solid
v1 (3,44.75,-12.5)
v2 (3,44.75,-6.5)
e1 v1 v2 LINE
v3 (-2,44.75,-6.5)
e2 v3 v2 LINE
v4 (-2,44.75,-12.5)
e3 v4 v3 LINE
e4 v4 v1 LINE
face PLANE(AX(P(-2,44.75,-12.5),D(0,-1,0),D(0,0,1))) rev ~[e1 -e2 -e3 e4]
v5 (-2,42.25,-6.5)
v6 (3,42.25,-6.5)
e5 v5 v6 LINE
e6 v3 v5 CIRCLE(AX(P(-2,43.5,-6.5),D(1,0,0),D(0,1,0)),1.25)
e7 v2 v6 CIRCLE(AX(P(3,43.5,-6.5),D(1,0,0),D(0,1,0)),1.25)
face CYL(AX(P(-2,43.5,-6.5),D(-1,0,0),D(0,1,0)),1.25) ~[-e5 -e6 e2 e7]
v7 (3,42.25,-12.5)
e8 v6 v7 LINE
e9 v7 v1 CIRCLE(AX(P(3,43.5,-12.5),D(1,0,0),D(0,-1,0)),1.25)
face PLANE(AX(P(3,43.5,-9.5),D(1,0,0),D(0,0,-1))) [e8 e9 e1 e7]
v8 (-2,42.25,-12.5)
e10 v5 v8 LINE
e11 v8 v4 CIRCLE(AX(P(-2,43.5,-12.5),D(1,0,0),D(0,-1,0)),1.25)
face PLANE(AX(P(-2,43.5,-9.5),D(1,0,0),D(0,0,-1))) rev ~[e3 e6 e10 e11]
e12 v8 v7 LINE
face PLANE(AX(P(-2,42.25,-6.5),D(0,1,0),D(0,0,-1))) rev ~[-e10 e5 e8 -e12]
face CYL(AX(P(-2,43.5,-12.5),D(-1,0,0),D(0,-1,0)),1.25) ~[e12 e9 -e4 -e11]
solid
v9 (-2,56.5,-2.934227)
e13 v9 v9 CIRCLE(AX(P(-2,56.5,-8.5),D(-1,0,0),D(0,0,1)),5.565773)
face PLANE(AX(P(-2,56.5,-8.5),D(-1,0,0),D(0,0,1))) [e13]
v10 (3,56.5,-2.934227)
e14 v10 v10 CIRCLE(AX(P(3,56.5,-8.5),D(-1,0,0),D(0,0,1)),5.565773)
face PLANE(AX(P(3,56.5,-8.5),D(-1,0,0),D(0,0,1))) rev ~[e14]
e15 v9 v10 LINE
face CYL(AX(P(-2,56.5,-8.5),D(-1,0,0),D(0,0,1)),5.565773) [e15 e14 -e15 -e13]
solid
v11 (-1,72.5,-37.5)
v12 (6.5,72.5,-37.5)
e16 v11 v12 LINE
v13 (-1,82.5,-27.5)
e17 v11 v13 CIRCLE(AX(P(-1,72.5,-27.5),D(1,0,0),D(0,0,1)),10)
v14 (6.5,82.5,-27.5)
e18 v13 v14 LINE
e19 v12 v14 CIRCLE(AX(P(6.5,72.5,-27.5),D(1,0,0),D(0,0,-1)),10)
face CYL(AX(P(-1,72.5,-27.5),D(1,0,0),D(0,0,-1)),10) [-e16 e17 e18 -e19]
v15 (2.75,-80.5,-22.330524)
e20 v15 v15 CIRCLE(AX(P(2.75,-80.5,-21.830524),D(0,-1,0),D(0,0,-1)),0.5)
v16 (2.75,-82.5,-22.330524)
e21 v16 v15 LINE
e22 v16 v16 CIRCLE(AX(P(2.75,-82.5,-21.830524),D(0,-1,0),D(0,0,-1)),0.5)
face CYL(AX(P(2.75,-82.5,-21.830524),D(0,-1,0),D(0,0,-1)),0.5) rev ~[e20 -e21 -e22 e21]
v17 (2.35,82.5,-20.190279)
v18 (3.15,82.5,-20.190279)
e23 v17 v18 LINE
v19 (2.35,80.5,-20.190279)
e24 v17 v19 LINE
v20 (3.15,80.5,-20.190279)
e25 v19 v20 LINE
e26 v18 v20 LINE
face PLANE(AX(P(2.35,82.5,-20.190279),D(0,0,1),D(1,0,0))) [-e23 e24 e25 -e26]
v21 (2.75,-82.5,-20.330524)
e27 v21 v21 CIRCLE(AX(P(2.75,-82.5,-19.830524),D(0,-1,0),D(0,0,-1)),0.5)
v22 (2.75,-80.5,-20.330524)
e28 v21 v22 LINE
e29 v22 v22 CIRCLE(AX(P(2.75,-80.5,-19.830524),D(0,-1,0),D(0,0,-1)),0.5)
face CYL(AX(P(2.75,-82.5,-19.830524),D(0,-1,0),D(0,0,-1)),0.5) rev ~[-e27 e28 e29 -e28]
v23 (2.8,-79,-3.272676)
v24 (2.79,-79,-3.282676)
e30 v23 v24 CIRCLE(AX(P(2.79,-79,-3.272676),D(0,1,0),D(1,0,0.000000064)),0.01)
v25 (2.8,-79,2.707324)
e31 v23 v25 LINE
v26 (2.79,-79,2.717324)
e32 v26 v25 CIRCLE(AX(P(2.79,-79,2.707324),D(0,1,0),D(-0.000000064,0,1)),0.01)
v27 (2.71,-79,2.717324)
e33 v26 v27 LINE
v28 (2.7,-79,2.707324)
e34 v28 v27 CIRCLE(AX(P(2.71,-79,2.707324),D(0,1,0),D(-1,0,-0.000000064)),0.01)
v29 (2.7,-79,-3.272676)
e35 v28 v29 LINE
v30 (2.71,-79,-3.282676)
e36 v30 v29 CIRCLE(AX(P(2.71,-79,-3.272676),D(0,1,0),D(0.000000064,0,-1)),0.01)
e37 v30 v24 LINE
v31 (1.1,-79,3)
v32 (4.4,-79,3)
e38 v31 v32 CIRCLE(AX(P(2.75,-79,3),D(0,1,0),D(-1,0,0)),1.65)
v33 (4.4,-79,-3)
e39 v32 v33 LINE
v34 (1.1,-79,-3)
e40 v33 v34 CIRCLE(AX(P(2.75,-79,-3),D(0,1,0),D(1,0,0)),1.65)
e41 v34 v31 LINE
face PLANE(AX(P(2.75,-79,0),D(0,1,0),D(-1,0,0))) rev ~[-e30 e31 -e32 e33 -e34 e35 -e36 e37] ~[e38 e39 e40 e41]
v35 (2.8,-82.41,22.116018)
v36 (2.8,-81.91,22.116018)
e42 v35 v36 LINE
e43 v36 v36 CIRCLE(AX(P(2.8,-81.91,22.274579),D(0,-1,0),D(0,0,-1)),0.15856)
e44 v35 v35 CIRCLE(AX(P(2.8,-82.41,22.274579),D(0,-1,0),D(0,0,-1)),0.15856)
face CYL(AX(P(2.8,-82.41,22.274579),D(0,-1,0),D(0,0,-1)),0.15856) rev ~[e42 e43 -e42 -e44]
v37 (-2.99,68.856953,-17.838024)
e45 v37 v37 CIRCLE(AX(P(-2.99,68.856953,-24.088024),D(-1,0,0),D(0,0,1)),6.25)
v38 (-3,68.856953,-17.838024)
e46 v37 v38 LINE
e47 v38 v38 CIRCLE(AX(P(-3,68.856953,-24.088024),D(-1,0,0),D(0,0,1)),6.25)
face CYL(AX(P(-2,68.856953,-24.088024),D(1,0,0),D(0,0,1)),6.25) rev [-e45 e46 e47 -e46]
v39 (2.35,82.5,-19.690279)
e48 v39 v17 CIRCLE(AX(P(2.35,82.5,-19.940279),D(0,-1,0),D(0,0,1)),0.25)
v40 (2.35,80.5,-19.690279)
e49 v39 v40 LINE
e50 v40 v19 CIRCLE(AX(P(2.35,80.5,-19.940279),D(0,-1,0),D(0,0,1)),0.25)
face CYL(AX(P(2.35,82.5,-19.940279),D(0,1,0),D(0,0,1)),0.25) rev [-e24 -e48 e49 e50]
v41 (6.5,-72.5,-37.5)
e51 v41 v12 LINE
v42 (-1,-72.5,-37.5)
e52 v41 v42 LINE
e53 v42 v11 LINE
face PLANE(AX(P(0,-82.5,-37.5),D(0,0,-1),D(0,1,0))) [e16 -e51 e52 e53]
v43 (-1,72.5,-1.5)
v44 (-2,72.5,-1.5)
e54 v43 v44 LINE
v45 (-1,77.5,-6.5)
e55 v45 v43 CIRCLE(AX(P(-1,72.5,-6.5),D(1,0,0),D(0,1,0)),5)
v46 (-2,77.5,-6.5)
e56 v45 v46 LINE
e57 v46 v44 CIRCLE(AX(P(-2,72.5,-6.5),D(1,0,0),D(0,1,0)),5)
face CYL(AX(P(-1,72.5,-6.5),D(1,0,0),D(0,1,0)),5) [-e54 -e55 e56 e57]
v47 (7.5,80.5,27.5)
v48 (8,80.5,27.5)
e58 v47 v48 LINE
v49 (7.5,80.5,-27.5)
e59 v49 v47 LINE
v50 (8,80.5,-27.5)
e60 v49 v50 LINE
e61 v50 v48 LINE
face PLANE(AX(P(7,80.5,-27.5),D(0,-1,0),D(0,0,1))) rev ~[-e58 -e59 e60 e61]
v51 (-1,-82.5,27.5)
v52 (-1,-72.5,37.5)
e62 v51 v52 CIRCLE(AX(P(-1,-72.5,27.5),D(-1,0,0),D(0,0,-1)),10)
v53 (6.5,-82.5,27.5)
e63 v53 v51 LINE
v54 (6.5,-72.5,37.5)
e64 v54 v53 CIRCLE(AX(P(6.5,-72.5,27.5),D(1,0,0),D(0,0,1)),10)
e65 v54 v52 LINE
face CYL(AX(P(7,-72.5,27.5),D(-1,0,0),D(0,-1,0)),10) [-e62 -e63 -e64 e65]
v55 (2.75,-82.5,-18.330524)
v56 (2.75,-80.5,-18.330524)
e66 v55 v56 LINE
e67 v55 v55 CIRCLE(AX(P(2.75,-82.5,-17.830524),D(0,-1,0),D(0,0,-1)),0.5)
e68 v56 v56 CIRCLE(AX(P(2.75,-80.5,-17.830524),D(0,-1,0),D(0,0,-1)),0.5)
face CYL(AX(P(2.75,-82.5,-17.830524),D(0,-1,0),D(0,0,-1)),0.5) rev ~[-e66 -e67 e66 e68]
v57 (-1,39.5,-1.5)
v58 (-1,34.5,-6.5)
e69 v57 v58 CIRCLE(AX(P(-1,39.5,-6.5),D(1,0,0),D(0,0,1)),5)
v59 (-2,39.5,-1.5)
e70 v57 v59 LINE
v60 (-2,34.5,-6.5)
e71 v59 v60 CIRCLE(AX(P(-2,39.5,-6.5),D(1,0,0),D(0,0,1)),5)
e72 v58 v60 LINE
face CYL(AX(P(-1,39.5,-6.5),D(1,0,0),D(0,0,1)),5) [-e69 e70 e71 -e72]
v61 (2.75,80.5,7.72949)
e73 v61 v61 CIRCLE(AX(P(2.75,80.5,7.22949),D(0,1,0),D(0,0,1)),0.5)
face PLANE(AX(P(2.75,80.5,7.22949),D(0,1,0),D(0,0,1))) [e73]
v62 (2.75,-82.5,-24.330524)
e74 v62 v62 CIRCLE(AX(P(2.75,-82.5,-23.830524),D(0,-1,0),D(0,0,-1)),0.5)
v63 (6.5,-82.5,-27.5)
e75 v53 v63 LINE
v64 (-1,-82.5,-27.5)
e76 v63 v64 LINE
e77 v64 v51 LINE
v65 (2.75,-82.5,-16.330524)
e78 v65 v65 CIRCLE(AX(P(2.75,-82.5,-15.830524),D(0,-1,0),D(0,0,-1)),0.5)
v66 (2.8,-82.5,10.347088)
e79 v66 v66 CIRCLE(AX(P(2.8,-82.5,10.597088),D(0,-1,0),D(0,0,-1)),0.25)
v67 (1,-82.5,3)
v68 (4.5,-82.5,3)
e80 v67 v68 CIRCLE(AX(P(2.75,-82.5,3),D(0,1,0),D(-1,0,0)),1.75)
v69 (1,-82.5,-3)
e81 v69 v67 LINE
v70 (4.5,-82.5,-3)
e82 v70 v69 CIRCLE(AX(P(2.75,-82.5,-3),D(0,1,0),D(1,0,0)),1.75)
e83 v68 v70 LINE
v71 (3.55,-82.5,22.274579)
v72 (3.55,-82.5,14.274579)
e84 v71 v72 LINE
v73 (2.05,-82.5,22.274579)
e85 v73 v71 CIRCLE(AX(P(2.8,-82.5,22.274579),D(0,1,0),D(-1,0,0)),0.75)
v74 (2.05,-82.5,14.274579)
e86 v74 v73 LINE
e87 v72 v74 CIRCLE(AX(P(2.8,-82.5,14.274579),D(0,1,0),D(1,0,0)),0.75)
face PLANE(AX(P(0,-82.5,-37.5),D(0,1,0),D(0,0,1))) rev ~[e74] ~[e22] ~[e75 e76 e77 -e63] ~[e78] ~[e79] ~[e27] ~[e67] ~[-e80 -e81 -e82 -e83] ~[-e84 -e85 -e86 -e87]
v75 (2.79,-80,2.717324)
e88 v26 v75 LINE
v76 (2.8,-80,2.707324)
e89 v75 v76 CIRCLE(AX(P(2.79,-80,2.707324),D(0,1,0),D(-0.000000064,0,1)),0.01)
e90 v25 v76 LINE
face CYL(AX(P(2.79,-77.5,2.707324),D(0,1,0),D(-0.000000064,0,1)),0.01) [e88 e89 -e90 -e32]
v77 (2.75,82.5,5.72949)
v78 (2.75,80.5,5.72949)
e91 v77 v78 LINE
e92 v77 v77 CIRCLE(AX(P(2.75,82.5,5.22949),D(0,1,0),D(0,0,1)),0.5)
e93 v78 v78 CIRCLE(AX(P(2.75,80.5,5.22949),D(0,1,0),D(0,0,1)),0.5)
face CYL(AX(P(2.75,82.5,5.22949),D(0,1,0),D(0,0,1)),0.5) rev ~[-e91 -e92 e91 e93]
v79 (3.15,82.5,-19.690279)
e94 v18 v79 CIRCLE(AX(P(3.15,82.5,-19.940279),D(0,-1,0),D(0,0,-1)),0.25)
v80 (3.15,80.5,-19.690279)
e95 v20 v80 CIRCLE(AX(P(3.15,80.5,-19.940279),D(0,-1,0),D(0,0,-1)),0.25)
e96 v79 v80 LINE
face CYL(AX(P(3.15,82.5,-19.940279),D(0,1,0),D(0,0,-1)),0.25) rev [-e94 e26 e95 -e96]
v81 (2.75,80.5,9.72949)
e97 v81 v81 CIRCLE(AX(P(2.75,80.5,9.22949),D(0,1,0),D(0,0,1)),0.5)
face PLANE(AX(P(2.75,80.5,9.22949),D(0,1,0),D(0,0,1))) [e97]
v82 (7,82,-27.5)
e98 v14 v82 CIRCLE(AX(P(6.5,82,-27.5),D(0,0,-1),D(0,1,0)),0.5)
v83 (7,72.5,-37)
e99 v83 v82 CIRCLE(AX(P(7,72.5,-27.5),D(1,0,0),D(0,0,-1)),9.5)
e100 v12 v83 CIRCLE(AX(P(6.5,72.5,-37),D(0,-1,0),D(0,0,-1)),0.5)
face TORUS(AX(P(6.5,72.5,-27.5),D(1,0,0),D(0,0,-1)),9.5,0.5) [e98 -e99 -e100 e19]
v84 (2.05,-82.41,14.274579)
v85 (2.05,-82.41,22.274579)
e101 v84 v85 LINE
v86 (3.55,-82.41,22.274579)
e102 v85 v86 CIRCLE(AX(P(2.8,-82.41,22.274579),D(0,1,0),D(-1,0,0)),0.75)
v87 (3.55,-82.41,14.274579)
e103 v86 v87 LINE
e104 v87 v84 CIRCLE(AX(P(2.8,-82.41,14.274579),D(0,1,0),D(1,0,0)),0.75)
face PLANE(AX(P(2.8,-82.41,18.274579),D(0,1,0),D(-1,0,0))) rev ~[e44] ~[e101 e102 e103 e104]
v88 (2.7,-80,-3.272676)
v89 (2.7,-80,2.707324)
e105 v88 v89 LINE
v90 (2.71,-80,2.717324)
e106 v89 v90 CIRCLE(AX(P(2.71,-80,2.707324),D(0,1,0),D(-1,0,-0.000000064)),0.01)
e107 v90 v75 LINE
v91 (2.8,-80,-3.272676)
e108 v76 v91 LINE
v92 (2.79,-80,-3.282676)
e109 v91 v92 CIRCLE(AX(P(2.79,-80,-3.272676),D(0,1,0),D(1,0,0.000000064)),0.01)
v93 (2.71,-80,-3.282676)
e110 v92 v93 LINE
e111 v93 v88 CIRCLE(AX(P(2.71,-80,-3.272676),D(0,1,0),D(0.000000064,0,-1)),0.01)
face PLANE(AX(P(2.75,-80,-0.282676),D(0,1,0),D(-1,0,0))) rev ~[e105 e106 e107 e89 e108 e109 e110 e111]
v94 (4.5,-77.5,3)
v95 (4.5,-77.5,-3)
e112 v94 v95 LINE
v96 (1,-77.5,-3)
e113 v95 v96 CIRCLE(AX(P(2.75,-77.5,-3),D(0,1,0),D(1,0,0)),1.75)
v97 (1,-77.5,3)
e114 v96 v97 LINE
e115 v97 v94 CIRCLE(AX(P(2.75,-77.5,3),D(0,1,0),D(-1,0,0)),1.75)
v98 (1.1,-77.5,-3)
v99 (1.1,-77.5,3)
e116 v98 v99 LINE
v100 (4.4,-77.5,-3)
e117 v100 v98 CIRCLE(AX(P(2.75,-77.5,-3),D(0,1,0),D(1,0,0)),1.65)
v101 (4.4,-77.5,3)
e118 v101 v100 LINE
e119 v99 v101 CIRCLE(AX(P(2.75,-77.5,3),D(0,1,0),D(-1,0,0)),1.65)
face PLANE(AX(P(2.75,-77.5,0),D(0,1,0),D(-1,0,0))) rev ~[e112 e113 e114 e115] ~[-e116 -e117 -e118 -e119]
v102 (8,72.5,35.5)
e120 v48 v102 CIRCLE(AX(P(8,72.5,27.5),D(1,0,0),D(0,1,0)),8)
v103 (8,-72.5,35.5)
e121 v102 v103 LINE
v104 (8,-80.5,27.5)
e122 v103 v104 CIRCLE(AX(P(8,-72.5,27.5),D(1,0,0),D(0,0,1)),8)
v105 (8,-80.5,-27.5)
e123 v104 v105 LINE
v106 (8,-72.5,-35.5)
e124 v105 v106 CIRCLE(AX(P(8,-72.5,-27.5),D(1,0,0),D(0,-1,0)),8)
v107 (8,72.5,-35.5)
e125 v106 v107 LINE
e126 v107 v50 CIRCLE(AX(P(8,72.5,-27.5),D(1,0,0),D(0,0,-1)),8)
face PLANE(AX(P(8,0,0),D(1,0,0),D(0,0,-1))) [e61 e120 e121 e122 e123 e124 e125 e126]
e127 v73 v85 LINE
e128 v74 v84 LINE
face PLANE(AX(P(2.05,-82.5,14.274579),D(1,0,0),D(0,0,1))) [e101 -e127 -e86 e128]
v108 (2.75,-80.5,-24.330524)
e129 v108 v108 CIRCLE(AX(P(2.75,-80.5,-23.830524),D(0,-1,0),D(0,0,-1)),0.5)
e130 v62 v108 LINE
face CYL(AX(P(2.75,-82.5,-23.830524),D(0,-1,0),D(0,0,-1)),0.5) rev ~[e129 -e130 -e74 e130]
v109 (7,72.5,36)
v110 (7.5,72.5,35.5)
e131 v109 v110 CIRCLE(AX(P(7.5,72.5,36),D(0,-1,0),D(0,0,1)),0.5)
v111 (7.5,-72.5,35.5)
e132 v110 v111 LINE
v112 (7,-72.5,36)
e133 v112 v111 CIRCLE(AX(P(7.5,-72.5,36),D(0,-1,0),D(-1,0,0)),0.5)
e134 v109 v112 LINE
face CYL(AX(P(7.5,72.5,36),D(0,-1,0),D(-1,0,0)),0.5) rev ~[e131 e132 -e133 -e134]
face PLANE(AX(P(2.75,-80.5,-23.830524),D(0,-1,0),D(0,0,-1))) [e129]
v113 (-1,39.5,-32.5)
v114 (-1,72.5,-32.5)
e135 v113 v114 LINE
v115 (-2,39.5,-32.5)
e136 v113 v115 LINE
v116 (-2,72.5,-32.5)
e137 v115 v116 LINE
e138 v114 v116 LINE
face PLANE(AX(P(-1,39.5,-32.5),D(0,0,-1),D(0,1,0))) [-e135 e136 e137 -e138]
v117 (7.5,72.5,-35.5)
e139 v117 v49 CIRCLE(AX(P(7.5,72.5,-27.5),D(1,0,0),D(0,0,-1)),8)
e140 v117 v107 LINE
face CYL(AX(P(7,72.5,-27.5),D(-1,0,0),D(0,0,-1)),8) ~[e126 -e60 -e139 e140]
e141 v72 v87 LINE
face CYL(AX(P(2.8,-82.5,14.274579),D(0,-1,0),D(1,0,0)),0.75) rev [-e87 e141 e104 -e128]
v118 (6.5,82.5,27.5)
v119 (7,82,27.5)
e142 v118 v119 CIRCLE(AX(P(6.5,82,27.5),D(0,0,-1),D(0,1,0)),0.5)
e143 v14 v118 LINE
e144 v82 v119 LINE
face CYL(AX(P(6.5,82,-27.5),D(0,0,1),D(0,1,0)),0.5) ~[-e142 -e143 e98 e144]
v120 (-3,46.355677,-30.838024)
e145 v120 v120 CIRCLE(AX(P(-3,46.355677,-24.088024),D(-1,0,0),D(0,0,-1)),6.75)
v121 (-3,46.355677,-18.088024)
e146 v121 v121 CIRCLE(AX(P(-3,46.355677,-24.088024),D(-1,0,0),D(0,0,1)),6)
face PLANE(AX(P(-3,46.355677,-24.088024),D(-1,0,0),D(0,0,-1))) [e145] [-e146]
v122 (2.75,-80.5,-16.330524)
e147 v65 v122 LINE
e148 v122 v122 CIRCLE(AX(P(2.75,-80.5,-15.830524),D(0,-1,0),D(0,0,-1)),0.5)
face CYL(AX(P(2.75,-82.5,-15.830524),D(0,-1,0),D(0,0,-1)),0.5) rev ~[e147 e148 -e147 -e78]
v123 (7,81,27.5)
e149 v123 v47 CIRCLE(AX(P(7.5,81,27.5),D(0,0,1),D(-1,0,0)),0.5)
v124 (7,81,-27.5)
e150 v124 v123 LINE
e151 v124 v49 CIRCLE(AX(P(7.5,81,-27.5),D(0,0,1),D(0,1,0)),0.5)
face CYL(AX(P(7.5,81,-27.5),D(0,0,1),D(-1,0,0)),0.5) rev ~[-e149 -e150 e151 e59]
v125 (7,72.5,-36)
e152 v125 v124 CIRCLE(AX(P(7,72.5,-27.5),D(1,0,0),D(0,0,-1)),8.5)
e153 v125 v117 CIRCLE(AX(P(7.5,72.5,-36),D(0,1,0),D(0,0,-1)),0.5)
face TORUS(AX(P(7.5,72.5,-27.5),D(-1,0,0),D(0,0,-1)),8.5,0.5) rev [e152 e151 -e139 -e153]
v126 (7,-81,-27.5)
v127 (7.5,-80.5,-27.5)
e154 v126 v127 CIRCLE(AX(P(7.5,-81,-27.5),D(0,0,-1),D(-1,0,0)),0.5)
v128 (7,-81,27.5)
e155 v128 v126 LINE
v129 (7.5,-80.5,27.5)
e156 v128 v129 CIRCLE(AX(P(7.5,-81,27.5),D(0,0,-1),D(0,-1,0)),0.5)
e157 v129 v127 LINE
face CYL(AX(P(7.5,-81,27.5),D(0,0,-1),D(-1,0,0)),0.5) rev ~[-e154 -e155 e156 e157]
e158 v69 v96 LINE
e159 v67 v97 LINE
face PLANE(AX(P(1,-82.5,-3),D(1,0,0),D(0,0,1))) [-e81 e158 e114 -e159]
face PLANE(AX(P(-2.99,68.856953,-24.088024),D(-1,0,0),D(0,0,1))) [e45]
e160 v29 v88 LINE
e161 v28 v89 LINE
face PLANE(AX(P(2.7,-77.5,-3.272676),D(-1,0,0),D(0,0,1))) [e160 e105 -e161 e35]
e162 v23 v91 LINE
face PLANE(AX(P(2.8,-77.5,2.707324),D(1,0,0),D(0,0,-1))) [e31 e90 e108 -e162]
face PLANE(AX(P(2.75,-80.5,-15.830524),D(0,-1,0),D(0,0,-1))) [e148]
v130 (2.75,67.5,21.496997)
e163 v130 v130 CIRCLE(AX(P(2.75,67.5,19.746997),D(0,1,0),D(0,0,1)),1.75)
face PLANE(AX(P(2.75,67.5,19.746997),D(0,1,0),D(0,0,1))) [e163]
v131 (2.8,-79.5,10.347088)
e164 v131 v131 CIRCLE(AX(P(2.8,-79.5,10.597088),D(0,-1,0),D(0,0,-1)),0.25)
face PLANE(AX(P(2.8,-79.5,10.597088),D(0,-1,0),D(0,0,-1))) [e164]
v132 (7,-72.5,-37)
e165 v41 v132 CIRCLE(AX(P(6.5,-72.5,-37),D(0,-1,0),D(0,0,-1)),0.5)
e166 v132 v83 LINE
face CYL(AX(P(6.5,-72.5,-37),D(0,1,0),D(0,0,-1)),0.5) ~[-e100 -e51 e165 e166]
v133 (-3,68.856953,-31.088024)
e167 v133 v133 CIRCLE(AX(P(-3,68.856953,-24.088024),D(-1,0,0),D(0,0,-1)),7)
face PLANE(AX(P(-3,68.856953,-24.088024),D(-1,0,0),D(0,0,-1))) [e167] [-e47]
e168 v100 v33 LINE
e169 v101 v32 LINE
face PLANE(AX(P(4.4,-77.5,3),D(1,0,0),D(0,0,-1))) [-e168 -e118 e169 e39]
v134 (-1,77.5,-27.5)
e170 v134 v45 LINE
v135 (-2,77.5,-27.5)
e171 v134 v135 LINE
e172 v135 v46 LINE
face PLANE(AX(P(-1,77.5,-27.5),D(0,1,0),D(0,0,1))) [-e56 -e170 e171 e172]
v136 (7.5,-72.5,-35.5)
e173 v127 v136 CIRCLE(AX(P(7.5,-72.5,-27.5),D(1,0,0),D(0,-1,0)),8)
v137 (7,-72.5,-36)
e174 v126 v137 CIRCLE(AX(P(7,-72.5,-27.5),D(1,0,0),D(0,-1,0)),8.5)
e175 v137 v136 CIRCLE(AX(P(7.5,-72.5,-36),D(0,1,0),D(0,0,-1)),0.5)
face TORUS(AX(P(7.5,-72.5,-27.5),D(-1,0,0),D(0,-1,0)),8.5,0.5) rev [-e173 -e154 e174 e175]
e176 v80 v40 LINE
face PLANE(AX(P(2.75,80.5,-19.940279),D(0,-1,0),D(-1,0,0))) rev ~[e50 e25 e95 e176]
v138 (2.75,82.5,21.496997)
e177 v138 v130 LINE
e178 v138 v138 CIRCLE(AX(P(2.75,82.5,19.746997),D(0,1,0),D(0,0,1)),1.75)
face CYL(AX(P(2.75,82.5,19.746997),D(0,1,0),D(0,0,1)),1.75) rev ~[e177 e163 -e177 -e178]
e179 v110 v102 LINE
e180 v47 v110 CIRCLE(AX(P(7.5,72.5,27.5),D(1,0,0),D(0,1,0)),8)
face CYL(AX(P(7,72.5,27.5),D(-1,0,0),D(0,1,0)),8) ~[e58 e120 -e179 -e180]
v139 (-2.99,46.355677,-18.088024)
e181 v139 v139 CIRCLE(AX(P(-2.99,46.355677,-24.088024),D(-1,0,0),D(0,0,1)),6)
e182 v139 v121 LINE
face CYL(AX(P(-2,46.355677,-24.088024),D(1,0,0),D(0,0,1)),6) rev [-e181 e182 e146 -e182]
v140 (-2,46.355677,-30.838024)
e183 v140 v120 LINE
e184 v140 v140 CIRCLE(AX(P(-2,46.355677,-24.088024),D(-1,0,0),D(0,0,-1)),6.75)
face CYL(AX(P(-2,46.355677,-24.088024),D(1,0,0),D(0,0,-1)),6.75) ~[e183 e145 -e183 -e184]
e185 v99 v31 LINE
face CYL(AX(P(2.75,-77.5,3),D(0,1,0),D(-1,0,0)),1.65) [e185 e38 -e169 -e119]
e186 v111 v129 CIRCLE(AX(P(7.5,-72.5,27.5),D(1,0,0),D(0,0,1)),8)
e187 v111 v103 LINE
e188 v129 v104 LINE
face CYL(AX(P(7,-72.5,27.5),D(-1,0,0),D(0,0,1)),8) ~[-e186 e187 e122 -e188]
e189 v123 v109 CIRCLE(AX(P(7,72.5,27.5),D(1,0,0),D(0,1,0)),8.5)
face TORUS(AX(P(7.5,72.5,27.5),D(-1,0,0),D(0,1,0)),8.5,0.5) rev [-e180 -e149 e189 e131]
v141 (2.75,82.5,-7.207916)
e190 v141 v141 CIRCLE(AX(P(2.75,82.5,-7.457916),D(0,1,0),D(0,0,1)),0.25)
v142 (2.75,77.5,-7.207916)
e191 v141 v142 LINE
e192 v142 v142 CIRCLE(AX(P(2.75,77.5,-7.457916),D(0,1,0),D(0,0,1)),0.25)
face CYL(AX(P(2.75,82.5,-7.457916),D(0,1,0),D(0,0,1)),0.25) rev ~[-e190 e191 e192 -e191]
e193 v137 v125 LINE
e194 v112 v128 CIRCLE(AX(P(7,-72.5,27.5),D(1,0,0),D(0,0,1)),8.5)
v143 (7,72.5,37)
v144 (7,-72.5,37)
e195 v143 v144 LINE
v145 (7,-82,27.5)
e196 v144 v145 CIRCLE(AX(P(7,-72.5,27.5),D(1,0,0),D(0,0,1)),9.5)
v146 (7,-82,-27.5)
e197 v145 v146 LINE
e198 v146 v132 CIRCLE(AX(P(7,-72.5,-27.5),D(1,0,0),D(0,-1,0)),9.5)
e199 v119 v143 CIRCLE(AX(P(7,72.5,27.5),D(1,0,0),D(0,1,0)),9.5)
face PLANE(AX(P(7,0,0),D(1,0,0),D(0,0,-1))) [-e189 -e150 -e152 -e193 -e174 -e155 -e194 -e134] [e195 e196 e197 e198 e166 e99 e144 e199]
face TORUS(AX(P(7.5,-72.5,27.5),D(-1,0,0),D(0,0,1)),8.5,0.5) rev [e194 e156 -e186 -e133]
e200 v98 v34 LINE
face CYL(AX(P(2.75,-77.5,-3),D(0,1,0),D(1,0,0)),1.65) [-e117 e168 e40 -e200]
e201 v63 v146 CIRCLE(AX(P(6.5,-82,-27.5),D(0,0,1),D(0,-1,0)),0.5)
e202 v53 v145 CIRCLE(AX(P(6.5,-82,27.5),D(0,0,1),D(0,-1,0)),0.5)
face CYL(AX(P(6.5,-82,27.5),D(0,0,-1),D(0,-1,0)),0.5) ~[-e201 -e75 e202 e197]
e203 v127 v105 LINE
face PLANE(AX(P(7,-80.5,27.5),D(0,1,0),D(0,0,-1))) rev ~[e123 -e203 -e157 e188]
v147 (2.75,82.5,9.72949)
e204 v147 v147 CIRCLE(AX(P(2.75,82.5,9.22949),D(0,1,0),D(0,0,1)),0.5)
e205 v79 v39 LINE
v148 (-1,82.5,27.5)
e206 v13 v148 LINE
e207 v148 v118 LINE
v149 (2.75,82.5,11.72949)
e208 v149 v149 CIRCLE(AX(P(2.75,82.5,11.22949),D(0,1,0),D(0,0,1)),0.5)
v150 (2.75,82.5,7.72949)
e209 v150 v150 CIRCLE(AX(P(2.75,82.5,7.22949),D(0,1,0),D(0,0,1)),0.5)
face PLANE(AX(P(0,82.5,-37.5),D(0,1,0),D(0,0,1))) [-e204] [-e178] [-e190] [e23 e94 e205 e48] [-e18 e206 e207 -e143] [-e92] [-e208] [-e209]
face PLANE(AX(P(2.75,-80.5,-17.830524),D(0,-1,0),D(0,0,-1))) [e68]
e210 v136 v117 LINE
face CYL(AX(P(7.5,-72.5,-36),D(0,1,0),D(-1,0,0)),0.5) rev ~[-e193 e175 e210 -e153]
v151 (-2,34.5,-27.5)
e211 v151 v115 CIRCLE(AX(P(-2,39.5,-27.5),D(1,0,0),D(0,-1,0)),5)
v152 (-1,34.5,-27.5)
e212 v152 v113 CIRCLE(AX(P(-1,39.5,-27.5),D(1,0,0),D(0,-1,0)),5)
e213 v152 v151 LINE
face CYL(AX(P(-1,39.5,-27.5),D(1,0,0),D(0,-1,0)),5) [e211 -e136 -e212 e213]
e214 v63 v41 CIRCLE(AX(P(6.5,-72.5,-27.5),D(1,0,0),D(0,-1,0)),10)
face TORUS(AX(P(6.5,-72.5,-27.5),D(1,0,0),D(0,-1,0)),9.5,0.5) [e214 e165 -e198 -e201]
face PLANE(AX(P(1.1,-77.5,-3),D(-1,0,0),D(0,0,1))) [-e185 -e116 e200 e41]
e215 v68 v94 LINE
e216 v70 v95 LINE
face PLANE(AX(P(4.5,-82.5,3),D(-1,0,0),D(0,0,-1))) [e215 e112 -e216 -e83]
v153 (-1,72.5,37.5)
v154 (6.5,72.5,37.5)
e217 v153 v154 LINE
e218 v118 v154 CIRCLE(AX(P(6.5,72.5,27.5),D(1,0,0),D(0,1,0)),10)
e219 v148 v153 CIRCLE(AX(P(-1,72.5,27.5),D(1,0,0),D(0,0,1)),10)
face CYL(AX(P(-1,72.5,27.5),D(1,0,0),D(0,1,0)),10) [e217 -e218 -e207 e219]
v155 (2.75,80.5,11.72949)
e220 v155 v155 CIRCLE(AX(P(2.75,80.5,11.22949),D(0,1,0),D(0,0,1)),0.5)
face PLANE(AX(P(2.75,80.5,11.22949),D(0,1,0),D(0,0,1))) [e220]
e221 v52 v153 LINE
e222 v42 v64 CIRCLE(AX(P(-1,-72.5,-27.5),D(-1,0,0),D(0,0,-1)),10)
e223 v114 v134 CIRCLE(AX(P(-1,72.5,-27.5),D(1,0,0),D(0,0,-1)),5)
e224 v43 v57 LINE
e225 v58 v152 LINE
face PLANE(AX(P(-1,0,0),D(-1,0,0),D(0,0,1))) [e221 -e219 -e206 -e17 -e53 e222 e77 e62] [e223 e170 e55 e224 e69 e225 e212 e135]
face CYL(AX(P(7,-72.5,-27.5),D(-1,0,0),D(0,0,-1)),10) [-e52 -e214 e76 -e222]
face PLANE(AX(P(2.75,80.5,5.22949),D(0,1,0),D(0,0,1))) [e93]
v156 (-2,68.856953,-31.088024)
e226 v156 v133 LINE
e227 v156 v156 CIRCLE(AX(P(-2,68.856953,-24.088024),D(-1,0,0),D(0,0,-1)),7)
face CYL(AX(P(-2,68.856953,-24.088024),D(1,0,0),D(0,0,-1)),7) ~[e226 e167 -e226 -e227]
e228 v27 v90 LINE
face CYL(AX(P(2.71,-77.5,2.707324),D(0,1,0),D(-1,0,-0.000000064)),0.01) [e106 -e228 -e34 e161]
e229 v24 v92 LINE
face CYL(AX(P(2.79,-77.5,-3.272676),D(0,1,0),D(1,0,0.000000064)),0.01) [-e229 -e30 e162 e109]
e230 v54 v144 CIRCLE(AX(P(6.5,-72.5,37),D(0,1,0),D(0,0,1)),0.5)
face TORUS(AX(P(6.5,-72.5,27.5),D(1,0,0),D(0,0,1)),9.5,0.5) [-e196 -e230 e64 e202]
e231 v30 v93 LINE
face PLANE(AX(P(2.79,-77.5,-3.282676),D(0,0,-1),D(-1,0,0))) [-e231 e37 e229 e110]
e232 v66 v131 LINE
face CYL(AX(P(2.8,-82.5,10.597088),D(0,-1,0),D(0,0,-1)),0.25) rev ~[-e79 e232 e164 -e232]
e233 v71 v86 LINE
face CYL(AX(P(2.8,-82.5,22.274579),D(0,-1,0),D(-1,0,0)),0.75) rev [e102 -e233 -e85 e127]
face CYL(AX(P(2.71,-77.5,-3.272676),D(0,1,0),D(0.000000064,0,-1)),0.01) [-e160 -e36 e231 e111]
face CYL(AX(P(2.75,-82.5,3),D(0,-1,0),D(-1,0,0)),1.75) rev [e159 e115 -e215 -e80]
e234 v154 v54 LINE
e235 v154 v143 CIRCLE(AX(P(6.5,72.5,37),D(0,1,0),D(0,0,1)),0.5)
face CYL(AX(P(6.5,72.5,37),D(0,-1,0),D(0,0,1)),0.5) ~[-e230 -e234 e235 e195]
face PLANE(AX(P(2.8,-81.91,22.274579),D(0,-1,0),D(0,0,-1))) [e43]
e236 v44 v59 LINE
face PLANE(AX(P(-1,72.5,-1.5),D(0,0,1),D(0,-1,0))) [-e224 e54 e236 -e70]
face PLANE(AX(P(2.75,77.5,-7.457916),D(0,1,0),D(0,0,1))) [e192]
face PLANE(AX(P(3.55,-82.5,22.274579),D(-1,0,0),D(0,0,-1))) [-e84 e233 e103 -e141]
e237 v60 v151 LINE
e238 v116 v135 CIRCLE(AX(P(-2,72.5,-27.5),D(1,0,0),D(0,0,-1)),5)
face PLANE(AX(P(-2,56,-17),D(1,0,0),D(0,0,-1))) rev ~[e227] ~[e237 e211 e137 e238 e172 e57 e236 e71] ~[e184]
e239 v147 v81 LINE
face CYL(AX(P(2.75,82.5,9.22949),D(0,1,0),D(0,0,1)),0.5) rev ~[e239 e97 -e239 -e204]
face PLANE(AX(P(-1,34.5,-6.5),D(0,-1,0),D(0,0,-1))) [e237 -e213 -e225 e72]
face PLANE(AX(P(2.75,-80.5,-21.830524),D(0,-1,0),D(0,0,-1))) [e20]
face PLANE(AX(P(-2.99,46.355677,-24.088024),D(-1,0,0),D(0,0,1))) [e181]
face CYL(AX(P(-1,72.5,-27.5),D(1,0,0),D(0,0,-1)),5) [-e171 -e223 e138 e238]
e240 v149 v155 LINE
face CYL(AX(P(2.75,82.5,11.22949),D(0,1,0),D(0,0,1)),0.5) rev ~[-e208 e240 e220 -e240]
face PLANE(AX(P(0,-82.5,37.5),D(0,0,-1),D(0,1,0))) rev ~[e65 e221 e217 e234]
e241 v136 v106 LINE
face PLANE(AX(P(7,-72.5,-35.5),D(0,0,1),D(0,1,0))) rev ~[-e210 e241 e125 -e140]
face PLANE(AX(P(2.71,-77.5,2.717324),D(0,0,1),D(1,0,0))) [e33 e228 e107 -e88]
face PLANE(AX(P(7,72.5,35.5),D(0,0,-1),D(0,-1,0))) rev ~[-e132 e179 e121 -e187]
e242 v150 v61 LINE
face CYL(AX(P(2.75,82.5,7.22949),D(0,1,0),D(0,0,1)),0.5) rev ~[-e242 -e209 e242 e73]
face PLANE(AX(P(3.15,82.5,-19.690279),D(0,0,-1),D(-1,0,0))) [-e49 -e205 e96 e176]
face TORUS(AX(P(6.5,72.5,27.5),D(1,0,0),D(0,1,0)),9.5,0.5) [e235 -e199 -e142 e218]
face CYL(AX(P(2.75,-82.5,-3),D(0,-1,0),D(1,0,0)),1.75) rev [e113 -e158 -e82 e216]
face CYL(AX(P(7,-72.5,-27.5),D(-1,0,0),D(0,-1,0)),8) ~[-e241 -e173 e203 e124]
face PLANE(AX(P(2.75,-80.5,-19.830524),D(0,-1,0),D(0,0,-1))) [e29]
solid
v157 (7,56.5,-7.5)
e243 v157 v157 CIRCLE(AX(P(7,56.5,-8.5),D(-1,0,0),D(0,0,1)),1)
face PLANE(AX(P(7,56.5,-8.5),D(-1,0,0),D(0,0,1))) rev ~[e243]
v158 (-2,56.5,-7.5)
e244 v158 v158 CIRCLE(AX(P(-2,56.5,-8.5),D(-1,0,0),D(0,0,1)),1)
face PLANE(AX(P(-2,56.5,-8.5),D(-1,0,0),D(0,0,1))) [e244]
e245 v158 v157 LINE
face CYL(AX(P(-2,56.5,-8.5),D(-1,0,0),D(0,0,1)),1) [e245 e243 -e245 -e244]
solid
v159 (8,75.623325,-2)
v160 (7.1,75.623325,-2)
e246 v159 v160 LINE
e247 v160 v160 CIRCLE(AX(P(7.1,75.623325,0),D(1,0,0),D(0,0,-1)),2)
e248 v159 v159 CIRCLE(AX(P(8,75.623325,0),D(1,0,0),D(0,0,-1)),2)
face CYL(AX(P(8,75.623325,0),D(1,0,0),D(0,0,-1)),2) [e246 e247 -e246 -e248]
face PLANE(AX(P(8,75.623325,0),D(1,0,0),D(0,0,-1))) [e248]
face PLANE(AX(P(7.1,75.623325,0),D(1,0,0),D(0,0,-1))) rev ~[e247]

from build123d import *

# Parameters (mm, degrees)
SKETCH1_W            = 75
SKETCH1_H            = 165
BOSS_EXTRUDE1_DEPTH  = 7
SKETCH2_W            = 75
SKETCH2_H            = 165
BOSS_EXTRUDE2_DEPTH  = 1
BOSS_EXTRUDE3_DEPTH  = 1
SKETCH4_R            = 7
SKETCH4_R_2          = 6.25
BOSS_EXTRUDE4_DEPTH  = 1
SKETCH5_R            = 6.25
BOSS_EXTRUDE5_DEPTH  = 0.99
SKETCH6_R            = 6.75
SKETCH6_R_2          = 6
BOSS_EXTRUDE6_DEPTH  = 1
SKETCH7_R            = 6
BOSS_EXTRUDE7_DEPTH  = 0.99
SKETCH8_R            = 5.565772518
BOSS_EXTRUDE8_DEPTH  = 5
BOSS_EXTRUDE9_DEPTH  = 5
FILLET1_R            = 10
BOSS_EXTRUDE10_DEPTH = 1
FILLET2_R            = 0.5
SKETCH11_R           = 2
BOSS_EXTRUDE11_DEPTH = 0.9
SKETCH13_R           = 1
BOSS_EXTRUDE12_DEPTH = 9
SKETCH14_R           = 1.75
CUT_EXTRUDE2_DEPTH   = 15
SKETCH17_R           = 0.5
CUT_EXTRUDE3_DEPTH   = 2
LPATTERN1_COUNT      = 4
LPATTERN1_PITCH      = 2
SKETCH18_R           = 0.25
CUT_EXTRUDE4_DEPTH   = 5
CUT_EXTRUDE5_DEPTH   = 2
SKETCH20_R           = 0.5
CUT_EXTRUDE6_DEPTH   = 2
LPATTERN2_COUNT      = 5
LPATTERN2_PITCH      = 2
CUT_EXTRUDE7_DEPTH   = 5
BOSS_EXTRUDE13_DEPTH = 2.5
BOSS_EXTRUDE14_DEPTH = 1.5
SKETCH24_R           = 0.25
CUT_EXTRUDE8_DEPTH   = 3
CUT_EXTRUDE9_DEPTH   = 0.09
SKETCH26_R           = 0.158560283
CUT_EXTRUDE10_DEPTH  = 0.5


with BuildPart() as part:
    # Sketch1 → Boss-Extrude1 (new body)
    with BuildSketch(Plane(origin=(0, 0, 0), x_dir=(0, 0, -1), z_dir=(1, 0, 0))):
        Rectangle(SKETCH1_W, SKETCH1_H)
    extrude(amount=BOSS_EXTRUDE1_DEPTH)

    # Sketch2 → Boss-Extrude2 (add)
    with BuildSketch(Plane.ZY):
        Rectangle(SKETCH2_W, SKETCH2_H)
    extrude(amount=BOSS_EXTRUDE2_DEPTH)

    # Sketch3 → Boss-Extrude3 (add)
    with BuildSketch(Plane.ZY.offset(1)):
        with BuildLine():
            Line((-27.5, 77.5), (-6.5, 77.5))
            ThreePointArc((-6.5, 77.5), (-2.964466094, 76.035533906), (-1.5, 72.5))
            Line((-1.5, 72.5), (-1.5, 39.5))
            ThreePointArc((-1.5, 39.5), (-2.964466094, 35.964466094), (-6.5, 34.5))
            Line((-6.5, 34.5), (-27.5, 34.5))
            ThreePointArc((-27.5, 34.5), (-31.035533906, 35.964466094), (-32.5, 39.5))
            Line((-32.5, 39.5), (-32.5, 72.5))
            ThreePointArc((-32.5, 72.5), (-31.035533906, 76.035533906), (-27.5, 77.5))
        make_face()
    extrude(amount=BOSS_EXTRUDE3_DEPTH)

    # Sketch4 → Boss-Extrude4 (add)
    with BuildSketch(Plane.ZY.offset(2)):
        with Locations(Location((-24.088024025, 68.85695255, 0), (0, 0, 180))):
            Circle(SKETCH4_R)
        with Locations((-24.088024025, 68.85695255)):
            Circle(SKETCH4_R_2, mode=Mode.SUBTRACT)
    extrude(amount=BOSS_EXTRUDE4_DEPTH)

    # Sketch5 → Boss-Extrude5 (add)
    with BuildSketch(Plane.ZY.offset(2)):
        with Locations((-24.088024025, 68.85695255)):
            Circle(SKETCH5_R)
    extrude(amount=BOSS_EXTRUDE5_DEPTH)

    # Sketch6 → Boss-Extrude6 (add)
    with BuildSketch(Plane.ZY.offset(2)):
        with Locations(Location((-24.088024025, 46.355676756, 0), (0, 0, 180))):
            Circle(SKETCH6_R)
        with Locations((-24.088024025, 46.355676756)):
            Circle(SKETCH6_R_2, mode=Mode.SUBTRACT)
    extrude(amount=BOSS_EXTRUDE6_DEPTH)

    # Sketch7 → Boss-Extrude7 (add)
    with BuildSketch(Plane.ZY.offset(2)):
        with Locations((-24.088024025, 46.355676756)):
            Circle(SKETCH7_R)
    extrude(amount=BOSS_EXTRUDE7_DEPTH)

    # Fillet1
    fillet1_edges = [part.edges().sort_by_distance(p)[0] for p in [
        (3, -82.5, -37.5),
        (3, -82.5, 37.5),
        (3, 82.5, 37.5),
        (3, 82.5, -37.5),
    ]]
    fillet(fillet1_edges, radius=FILLET1_R)

    # Sketch10 → Boss-Extrude10 (add)
    with BuildSketch(Plane(origin=(7, 0, 0), x_dir=(0, 0, -1), z_dir=(1, 0, 0))):
        with BuildLine():
            Line((27.5, 80.5), (-27.5, 80.5))
            ThreePointArc((-27.5, 80.5), (-33.156854249, 78.156854249), (-35.5, 72.5))
            Line((-35.5, 72.5), (-35.5, -72.5))
            ThreePointArc((-35.5, -72.5), (-33.156854249, -78.156854249), (-27.5, -80.5))
            Line((-27.5, -80.5), (27.5, -80.5))
            ThreePointArc((27.5, -80.5), (33.156854249, -78.156854249), (35.5, -72.5))
            Line((35.5, -72.5), (35.5, 72.5))
            ThreePointArc((35.5, 72.5), (33.156854249, 78.156854249), (27.5, 80.5))
        make_face()
    extrude(amount=BOSS_EXTRUDE10_DEPTH)

    # Fillet2
    fillet2_edges = [part.edges().sort_by_distance(p)[0] for p in [
        (7, 78.156854249, -33.156854249),
        (7, 80.5, 0),
        (7, 78.156854249, 33.156854249),
        (7, 0, 35.5),
        (7, -78.156854249, 33.156854249),
        (7, -80.5, 0),
        (7, -78.156854249, -33.156854249),
        (7, 0, -35.5),
        (7, 0, -37.5),
        (7, -82.5, 0),
        (7, 82.5, 0),
        (7, 0, 37.5),
        (7, 79.571067812, -34.571067812),
        (7, 79.571067812, 34.571067812),
        (7, -79.571067812, 34.571067812),
        (7, -79.571067812, -34.571067812),
    ]]
    fillet(fillet2_edges, radius=FILLET2_R)

    # Sketch14 → Cut-Extrude2 (cut)
    with BuildSketch(Plane(origin=(0, 82.5, 0), x_dir=(1, 0, 0), z_dir=(0, 1, 0))):
        with Locations(Location((2.75, -19.746997413, 0), (0, 0, 270))):
            Circle(SKETCH14_R)
    extrude(amount=-CUT_EXTRUDE2_DEPTH, mode=Mode.SUBTRACT)

    # Sketch17 → Cut-Extrude3 (cut)
    with BuildSketch(Plane(origin=(0, 82.5, 0), x_dir=(1, 0, 0), z_dir=(0, 1, 0))):
        with Locations(Location((2.75, -11.22949042, 0), (0, 0, 270))):
            Circle(SKETCH17_R)
    cut_extrude3 = extrude(amount=-CUT_EXTRUDE3_DEPTH, mode=Mode.SUBTRACT)

    # LPattern1: Cut-Extrude3 ×4
    with Locations(*[(0, 0, -i * LPATTERN1_PITCH) for i in range(1, LPATTERN1_COUNT)]):
        add(cut_extrude3, mode=Mode.SUBTRACT)

    # Sketch18 → Cut-Extrude4 (cut)
    with BuildSketch(Plane(origin=(0, 82.5, 0), x_dir=(1, 0, 0), z_dir=(0, 1, 0))):
        with Locations(Location((2.75, 7.457915747, 0), (0, 0, 270))):
            Circle(SKETCH18_R)
    extrude(amount=-CUT_EXTRUDE4_DEPTH, mode=Mode.SUBTRACT)

    # Sketch19 → Cut-Extrude5 (cut)
    with BuildSketch(Plane(origin=(0, 82.5, 0), x_dir=(1, 0, 0), z_dir=(0, 1, 0))):
        with BuildLine():
            Line((2.35, 20.190278739), (3.15, 20.190278739))
            ThreePointArc((3.15, 20.190278739), (3.4, 19.940278739), (3.15, 19.690278739))
            Line((3.15, 19.690278739), (2.35, 19.690278739))
            ThreePointArc((2.35, 19.690278739), (2.1, 19.940278739), (2.35, 20.190278739))
        make_face()
    extrude(amount=-CUT_EXTRUDE5_DEPTH, mode=Mode.SUBTRACT)

    # Sketch20 → Cut-Extrude6 (cut)
    with BuildSketch(Plane.XZ.offset(82.5)):
        with Locations(Location((2.75, -23.830524136, 0), (0, 0, 270))):
            Circle(SKETCH20_R)
    cut_extrude6 = extrude(amount=-CUT_EXTRUDE6_DEPTH, mode=Mode.SUBTRACT)

    # LPattern2: Cut-Extrude6 ×5
    with Locations(*[(0, 0, i * LPATTERN2_PITCH) for i in range(1, LPATTERN2_COUNT)]):
        add(cut_extrude6, mode=Mode.SUBTRACT)

    # Sketch21 → Cut-Extrude7 (cut)
    with BuildSketch(Plane.XZ.offset(82.5)):
        with BuildLine():
            Line((4.5, 3), (4.5, -3))
            ThreePointArc((4.5, -3), (2.75, -4.75), (1, -3))
            Line((1, -3), (1, 3))
            ThreePointArc((1, 3), (2.75, 4.75), (4.5, 3))
        make_face()
    extrude(amount=-CUT_EXTRUDE7_DEPTH, mode=Mode.SUBTRACT)

    # Sketch22 → Boss-Extrude13 (add)
    with BuildSketch(Plane.XZ.offset(77.5)):
        with BuildLine():
            Line((2.71, 2.717324143), (2.79, 2.717324143))
            ThreePointArc((2.79, 2.717324143), (2.797071068, 2.714395211), (2.8, 2.707324143))
            Line((2.8, 2.707324143), (2.8, -3.272675857))
            ThreePointArc((2.8, -3.272675857), (2.797071068, -3.279746925), (2.79, -3.282675857))
            Line((2.79, -3.282675857), (2.71, -3.282675857))
            ThreePointArc((2.71, -3.282675857), (2.702928932, -3.279746925), (2.7, -3.272675857))
            Line((2.7, -3.272675857), (2.7, 2.707324143))
            ThreePointArc((2.7, 2.707324143), (2.702928932, 2.714395211), (2.71, 2.717324143))
        make_face()
    extrude(amount=BOSS_EXTRUDE13_DEPTH)

    # Sketch23 → Boss-Extrude14 (add)
    with BuildSketch(Plane.XZ.offset(77.5)):
        with BuildLine():
            Line((4.4, 3), (4.4, -3))
            ThreePointArc((4.4, -3), (2.75, -4.65), (1.1, -3))
            Line((1.1, -3), (1.1, 3))
            ThreePointArc((1.1, 3), (2.75, 4.65), (4.4, 3))
        make_face()
    extrude(amount=BOSS_EXTRUDE14_DEPTH)

    # Sketch24 → Cut-Extrude8 (cut)
    with BuildSketch(Plane.XZ.offset(82.5)):
        with Locations(Location((2.8, 10.597087739, 0), (0, 0, 270))):
            Circle(SKETCH24_R)
    extrude(amount=-CUT_EXTRUDE8_DEPTH, mode=Mode.SUBTRACT)

    # Sketch25 → Cut-Extrude9 (cut)
    with BuildSketch(Plane.XZ.offset(82.5)):
        with BuildLine():
            Line((2.05, 14.274578695), (2.05, 22.274578695))
            ThreePointArc((2.05, 22.274578695), (2.8, 23.024578695), (3.55, 22.274578695))
            Line((3.55, 22.274578695), (3.55, 14.274578695))
            ThreePointArc((3.55, 14.274578695), (2.8, 13.524578695), (2.05, 14.274578695))
        make_face()
    extrude(amount=-CUT_EXTRUDE9_DEPTH, mode=Mode.SUBTRACT)

    # Sketch26 → Cut-Extrude10 (cut)
    with BuildSketch(Plane.XZ.offset(82.41)):
        with Locations(Location((2.8, 22.274578695, 0), (0, 0, 270))):
            Circle(SKETCH26_R)
    extrude(amount=-CUT_EXTRUDE10_DEPTH, mode=Mode.SUBTRACT)


with BuildPart() as body_2:
    # Sketch8 → Boss-Extrude8 (new body)
    with BuildSketch(Plane.ZY.offset(2)):
        with Locations((-8.5, 56.5)):
            Circle(SKETCH8_R)
    extrude(amount=-BOSS_EXTRUDE8_DEPTH)


with BuildPart() as body_3:
    # Sketch9 → Boss-Extrude9 (new body)
    with BuildSketch(Plane.ZY.offset(2)):
        with BuildLine():
            Line((-12.5, 44.75), (-6.5, 44.75))
            ThreePointArc((-6.5, 44.75), (-5.25, 43.5), (-6.5, 42.25))
            Line((-6.5, 42.25), (-12.5, 42.25))
            ThreePointArc((-12.5, 42.25), (-13.75, 43.5), (-12.5, 44.75))
        make_face()
    extrude(amount=-BOSS_EXTRUDE9_DEPTH)


with BuildPart() as body_4:
    # Sketch11 → Boss-Extrude11 (new body)
    with BuildSketch(Plane(origin=(8, 0, 0), x_dir=(0, 0, -1), z_dir=(1, 0, 0))):
        with Locations((0, 75.623325224)):
            Circle(SKETCH11_R)
    extrude(amount=-BOSS_EXTRUDE11_DEPTH)


with BuildPart() as body_5:
    # Sketch13 → Boss-Extrude12 (new body)
    with BuildSketch(Plane.ZY.offset(2)):
        with Locations((-8.5, 56.5)):
            Circle(SKETCH13_R)
    extrude(amount=-BOSS_EXTRUDE12_DEPTH)


solid = Compound([part.part, body_2.part, body_3.part, body_4.part, body_5.part])
